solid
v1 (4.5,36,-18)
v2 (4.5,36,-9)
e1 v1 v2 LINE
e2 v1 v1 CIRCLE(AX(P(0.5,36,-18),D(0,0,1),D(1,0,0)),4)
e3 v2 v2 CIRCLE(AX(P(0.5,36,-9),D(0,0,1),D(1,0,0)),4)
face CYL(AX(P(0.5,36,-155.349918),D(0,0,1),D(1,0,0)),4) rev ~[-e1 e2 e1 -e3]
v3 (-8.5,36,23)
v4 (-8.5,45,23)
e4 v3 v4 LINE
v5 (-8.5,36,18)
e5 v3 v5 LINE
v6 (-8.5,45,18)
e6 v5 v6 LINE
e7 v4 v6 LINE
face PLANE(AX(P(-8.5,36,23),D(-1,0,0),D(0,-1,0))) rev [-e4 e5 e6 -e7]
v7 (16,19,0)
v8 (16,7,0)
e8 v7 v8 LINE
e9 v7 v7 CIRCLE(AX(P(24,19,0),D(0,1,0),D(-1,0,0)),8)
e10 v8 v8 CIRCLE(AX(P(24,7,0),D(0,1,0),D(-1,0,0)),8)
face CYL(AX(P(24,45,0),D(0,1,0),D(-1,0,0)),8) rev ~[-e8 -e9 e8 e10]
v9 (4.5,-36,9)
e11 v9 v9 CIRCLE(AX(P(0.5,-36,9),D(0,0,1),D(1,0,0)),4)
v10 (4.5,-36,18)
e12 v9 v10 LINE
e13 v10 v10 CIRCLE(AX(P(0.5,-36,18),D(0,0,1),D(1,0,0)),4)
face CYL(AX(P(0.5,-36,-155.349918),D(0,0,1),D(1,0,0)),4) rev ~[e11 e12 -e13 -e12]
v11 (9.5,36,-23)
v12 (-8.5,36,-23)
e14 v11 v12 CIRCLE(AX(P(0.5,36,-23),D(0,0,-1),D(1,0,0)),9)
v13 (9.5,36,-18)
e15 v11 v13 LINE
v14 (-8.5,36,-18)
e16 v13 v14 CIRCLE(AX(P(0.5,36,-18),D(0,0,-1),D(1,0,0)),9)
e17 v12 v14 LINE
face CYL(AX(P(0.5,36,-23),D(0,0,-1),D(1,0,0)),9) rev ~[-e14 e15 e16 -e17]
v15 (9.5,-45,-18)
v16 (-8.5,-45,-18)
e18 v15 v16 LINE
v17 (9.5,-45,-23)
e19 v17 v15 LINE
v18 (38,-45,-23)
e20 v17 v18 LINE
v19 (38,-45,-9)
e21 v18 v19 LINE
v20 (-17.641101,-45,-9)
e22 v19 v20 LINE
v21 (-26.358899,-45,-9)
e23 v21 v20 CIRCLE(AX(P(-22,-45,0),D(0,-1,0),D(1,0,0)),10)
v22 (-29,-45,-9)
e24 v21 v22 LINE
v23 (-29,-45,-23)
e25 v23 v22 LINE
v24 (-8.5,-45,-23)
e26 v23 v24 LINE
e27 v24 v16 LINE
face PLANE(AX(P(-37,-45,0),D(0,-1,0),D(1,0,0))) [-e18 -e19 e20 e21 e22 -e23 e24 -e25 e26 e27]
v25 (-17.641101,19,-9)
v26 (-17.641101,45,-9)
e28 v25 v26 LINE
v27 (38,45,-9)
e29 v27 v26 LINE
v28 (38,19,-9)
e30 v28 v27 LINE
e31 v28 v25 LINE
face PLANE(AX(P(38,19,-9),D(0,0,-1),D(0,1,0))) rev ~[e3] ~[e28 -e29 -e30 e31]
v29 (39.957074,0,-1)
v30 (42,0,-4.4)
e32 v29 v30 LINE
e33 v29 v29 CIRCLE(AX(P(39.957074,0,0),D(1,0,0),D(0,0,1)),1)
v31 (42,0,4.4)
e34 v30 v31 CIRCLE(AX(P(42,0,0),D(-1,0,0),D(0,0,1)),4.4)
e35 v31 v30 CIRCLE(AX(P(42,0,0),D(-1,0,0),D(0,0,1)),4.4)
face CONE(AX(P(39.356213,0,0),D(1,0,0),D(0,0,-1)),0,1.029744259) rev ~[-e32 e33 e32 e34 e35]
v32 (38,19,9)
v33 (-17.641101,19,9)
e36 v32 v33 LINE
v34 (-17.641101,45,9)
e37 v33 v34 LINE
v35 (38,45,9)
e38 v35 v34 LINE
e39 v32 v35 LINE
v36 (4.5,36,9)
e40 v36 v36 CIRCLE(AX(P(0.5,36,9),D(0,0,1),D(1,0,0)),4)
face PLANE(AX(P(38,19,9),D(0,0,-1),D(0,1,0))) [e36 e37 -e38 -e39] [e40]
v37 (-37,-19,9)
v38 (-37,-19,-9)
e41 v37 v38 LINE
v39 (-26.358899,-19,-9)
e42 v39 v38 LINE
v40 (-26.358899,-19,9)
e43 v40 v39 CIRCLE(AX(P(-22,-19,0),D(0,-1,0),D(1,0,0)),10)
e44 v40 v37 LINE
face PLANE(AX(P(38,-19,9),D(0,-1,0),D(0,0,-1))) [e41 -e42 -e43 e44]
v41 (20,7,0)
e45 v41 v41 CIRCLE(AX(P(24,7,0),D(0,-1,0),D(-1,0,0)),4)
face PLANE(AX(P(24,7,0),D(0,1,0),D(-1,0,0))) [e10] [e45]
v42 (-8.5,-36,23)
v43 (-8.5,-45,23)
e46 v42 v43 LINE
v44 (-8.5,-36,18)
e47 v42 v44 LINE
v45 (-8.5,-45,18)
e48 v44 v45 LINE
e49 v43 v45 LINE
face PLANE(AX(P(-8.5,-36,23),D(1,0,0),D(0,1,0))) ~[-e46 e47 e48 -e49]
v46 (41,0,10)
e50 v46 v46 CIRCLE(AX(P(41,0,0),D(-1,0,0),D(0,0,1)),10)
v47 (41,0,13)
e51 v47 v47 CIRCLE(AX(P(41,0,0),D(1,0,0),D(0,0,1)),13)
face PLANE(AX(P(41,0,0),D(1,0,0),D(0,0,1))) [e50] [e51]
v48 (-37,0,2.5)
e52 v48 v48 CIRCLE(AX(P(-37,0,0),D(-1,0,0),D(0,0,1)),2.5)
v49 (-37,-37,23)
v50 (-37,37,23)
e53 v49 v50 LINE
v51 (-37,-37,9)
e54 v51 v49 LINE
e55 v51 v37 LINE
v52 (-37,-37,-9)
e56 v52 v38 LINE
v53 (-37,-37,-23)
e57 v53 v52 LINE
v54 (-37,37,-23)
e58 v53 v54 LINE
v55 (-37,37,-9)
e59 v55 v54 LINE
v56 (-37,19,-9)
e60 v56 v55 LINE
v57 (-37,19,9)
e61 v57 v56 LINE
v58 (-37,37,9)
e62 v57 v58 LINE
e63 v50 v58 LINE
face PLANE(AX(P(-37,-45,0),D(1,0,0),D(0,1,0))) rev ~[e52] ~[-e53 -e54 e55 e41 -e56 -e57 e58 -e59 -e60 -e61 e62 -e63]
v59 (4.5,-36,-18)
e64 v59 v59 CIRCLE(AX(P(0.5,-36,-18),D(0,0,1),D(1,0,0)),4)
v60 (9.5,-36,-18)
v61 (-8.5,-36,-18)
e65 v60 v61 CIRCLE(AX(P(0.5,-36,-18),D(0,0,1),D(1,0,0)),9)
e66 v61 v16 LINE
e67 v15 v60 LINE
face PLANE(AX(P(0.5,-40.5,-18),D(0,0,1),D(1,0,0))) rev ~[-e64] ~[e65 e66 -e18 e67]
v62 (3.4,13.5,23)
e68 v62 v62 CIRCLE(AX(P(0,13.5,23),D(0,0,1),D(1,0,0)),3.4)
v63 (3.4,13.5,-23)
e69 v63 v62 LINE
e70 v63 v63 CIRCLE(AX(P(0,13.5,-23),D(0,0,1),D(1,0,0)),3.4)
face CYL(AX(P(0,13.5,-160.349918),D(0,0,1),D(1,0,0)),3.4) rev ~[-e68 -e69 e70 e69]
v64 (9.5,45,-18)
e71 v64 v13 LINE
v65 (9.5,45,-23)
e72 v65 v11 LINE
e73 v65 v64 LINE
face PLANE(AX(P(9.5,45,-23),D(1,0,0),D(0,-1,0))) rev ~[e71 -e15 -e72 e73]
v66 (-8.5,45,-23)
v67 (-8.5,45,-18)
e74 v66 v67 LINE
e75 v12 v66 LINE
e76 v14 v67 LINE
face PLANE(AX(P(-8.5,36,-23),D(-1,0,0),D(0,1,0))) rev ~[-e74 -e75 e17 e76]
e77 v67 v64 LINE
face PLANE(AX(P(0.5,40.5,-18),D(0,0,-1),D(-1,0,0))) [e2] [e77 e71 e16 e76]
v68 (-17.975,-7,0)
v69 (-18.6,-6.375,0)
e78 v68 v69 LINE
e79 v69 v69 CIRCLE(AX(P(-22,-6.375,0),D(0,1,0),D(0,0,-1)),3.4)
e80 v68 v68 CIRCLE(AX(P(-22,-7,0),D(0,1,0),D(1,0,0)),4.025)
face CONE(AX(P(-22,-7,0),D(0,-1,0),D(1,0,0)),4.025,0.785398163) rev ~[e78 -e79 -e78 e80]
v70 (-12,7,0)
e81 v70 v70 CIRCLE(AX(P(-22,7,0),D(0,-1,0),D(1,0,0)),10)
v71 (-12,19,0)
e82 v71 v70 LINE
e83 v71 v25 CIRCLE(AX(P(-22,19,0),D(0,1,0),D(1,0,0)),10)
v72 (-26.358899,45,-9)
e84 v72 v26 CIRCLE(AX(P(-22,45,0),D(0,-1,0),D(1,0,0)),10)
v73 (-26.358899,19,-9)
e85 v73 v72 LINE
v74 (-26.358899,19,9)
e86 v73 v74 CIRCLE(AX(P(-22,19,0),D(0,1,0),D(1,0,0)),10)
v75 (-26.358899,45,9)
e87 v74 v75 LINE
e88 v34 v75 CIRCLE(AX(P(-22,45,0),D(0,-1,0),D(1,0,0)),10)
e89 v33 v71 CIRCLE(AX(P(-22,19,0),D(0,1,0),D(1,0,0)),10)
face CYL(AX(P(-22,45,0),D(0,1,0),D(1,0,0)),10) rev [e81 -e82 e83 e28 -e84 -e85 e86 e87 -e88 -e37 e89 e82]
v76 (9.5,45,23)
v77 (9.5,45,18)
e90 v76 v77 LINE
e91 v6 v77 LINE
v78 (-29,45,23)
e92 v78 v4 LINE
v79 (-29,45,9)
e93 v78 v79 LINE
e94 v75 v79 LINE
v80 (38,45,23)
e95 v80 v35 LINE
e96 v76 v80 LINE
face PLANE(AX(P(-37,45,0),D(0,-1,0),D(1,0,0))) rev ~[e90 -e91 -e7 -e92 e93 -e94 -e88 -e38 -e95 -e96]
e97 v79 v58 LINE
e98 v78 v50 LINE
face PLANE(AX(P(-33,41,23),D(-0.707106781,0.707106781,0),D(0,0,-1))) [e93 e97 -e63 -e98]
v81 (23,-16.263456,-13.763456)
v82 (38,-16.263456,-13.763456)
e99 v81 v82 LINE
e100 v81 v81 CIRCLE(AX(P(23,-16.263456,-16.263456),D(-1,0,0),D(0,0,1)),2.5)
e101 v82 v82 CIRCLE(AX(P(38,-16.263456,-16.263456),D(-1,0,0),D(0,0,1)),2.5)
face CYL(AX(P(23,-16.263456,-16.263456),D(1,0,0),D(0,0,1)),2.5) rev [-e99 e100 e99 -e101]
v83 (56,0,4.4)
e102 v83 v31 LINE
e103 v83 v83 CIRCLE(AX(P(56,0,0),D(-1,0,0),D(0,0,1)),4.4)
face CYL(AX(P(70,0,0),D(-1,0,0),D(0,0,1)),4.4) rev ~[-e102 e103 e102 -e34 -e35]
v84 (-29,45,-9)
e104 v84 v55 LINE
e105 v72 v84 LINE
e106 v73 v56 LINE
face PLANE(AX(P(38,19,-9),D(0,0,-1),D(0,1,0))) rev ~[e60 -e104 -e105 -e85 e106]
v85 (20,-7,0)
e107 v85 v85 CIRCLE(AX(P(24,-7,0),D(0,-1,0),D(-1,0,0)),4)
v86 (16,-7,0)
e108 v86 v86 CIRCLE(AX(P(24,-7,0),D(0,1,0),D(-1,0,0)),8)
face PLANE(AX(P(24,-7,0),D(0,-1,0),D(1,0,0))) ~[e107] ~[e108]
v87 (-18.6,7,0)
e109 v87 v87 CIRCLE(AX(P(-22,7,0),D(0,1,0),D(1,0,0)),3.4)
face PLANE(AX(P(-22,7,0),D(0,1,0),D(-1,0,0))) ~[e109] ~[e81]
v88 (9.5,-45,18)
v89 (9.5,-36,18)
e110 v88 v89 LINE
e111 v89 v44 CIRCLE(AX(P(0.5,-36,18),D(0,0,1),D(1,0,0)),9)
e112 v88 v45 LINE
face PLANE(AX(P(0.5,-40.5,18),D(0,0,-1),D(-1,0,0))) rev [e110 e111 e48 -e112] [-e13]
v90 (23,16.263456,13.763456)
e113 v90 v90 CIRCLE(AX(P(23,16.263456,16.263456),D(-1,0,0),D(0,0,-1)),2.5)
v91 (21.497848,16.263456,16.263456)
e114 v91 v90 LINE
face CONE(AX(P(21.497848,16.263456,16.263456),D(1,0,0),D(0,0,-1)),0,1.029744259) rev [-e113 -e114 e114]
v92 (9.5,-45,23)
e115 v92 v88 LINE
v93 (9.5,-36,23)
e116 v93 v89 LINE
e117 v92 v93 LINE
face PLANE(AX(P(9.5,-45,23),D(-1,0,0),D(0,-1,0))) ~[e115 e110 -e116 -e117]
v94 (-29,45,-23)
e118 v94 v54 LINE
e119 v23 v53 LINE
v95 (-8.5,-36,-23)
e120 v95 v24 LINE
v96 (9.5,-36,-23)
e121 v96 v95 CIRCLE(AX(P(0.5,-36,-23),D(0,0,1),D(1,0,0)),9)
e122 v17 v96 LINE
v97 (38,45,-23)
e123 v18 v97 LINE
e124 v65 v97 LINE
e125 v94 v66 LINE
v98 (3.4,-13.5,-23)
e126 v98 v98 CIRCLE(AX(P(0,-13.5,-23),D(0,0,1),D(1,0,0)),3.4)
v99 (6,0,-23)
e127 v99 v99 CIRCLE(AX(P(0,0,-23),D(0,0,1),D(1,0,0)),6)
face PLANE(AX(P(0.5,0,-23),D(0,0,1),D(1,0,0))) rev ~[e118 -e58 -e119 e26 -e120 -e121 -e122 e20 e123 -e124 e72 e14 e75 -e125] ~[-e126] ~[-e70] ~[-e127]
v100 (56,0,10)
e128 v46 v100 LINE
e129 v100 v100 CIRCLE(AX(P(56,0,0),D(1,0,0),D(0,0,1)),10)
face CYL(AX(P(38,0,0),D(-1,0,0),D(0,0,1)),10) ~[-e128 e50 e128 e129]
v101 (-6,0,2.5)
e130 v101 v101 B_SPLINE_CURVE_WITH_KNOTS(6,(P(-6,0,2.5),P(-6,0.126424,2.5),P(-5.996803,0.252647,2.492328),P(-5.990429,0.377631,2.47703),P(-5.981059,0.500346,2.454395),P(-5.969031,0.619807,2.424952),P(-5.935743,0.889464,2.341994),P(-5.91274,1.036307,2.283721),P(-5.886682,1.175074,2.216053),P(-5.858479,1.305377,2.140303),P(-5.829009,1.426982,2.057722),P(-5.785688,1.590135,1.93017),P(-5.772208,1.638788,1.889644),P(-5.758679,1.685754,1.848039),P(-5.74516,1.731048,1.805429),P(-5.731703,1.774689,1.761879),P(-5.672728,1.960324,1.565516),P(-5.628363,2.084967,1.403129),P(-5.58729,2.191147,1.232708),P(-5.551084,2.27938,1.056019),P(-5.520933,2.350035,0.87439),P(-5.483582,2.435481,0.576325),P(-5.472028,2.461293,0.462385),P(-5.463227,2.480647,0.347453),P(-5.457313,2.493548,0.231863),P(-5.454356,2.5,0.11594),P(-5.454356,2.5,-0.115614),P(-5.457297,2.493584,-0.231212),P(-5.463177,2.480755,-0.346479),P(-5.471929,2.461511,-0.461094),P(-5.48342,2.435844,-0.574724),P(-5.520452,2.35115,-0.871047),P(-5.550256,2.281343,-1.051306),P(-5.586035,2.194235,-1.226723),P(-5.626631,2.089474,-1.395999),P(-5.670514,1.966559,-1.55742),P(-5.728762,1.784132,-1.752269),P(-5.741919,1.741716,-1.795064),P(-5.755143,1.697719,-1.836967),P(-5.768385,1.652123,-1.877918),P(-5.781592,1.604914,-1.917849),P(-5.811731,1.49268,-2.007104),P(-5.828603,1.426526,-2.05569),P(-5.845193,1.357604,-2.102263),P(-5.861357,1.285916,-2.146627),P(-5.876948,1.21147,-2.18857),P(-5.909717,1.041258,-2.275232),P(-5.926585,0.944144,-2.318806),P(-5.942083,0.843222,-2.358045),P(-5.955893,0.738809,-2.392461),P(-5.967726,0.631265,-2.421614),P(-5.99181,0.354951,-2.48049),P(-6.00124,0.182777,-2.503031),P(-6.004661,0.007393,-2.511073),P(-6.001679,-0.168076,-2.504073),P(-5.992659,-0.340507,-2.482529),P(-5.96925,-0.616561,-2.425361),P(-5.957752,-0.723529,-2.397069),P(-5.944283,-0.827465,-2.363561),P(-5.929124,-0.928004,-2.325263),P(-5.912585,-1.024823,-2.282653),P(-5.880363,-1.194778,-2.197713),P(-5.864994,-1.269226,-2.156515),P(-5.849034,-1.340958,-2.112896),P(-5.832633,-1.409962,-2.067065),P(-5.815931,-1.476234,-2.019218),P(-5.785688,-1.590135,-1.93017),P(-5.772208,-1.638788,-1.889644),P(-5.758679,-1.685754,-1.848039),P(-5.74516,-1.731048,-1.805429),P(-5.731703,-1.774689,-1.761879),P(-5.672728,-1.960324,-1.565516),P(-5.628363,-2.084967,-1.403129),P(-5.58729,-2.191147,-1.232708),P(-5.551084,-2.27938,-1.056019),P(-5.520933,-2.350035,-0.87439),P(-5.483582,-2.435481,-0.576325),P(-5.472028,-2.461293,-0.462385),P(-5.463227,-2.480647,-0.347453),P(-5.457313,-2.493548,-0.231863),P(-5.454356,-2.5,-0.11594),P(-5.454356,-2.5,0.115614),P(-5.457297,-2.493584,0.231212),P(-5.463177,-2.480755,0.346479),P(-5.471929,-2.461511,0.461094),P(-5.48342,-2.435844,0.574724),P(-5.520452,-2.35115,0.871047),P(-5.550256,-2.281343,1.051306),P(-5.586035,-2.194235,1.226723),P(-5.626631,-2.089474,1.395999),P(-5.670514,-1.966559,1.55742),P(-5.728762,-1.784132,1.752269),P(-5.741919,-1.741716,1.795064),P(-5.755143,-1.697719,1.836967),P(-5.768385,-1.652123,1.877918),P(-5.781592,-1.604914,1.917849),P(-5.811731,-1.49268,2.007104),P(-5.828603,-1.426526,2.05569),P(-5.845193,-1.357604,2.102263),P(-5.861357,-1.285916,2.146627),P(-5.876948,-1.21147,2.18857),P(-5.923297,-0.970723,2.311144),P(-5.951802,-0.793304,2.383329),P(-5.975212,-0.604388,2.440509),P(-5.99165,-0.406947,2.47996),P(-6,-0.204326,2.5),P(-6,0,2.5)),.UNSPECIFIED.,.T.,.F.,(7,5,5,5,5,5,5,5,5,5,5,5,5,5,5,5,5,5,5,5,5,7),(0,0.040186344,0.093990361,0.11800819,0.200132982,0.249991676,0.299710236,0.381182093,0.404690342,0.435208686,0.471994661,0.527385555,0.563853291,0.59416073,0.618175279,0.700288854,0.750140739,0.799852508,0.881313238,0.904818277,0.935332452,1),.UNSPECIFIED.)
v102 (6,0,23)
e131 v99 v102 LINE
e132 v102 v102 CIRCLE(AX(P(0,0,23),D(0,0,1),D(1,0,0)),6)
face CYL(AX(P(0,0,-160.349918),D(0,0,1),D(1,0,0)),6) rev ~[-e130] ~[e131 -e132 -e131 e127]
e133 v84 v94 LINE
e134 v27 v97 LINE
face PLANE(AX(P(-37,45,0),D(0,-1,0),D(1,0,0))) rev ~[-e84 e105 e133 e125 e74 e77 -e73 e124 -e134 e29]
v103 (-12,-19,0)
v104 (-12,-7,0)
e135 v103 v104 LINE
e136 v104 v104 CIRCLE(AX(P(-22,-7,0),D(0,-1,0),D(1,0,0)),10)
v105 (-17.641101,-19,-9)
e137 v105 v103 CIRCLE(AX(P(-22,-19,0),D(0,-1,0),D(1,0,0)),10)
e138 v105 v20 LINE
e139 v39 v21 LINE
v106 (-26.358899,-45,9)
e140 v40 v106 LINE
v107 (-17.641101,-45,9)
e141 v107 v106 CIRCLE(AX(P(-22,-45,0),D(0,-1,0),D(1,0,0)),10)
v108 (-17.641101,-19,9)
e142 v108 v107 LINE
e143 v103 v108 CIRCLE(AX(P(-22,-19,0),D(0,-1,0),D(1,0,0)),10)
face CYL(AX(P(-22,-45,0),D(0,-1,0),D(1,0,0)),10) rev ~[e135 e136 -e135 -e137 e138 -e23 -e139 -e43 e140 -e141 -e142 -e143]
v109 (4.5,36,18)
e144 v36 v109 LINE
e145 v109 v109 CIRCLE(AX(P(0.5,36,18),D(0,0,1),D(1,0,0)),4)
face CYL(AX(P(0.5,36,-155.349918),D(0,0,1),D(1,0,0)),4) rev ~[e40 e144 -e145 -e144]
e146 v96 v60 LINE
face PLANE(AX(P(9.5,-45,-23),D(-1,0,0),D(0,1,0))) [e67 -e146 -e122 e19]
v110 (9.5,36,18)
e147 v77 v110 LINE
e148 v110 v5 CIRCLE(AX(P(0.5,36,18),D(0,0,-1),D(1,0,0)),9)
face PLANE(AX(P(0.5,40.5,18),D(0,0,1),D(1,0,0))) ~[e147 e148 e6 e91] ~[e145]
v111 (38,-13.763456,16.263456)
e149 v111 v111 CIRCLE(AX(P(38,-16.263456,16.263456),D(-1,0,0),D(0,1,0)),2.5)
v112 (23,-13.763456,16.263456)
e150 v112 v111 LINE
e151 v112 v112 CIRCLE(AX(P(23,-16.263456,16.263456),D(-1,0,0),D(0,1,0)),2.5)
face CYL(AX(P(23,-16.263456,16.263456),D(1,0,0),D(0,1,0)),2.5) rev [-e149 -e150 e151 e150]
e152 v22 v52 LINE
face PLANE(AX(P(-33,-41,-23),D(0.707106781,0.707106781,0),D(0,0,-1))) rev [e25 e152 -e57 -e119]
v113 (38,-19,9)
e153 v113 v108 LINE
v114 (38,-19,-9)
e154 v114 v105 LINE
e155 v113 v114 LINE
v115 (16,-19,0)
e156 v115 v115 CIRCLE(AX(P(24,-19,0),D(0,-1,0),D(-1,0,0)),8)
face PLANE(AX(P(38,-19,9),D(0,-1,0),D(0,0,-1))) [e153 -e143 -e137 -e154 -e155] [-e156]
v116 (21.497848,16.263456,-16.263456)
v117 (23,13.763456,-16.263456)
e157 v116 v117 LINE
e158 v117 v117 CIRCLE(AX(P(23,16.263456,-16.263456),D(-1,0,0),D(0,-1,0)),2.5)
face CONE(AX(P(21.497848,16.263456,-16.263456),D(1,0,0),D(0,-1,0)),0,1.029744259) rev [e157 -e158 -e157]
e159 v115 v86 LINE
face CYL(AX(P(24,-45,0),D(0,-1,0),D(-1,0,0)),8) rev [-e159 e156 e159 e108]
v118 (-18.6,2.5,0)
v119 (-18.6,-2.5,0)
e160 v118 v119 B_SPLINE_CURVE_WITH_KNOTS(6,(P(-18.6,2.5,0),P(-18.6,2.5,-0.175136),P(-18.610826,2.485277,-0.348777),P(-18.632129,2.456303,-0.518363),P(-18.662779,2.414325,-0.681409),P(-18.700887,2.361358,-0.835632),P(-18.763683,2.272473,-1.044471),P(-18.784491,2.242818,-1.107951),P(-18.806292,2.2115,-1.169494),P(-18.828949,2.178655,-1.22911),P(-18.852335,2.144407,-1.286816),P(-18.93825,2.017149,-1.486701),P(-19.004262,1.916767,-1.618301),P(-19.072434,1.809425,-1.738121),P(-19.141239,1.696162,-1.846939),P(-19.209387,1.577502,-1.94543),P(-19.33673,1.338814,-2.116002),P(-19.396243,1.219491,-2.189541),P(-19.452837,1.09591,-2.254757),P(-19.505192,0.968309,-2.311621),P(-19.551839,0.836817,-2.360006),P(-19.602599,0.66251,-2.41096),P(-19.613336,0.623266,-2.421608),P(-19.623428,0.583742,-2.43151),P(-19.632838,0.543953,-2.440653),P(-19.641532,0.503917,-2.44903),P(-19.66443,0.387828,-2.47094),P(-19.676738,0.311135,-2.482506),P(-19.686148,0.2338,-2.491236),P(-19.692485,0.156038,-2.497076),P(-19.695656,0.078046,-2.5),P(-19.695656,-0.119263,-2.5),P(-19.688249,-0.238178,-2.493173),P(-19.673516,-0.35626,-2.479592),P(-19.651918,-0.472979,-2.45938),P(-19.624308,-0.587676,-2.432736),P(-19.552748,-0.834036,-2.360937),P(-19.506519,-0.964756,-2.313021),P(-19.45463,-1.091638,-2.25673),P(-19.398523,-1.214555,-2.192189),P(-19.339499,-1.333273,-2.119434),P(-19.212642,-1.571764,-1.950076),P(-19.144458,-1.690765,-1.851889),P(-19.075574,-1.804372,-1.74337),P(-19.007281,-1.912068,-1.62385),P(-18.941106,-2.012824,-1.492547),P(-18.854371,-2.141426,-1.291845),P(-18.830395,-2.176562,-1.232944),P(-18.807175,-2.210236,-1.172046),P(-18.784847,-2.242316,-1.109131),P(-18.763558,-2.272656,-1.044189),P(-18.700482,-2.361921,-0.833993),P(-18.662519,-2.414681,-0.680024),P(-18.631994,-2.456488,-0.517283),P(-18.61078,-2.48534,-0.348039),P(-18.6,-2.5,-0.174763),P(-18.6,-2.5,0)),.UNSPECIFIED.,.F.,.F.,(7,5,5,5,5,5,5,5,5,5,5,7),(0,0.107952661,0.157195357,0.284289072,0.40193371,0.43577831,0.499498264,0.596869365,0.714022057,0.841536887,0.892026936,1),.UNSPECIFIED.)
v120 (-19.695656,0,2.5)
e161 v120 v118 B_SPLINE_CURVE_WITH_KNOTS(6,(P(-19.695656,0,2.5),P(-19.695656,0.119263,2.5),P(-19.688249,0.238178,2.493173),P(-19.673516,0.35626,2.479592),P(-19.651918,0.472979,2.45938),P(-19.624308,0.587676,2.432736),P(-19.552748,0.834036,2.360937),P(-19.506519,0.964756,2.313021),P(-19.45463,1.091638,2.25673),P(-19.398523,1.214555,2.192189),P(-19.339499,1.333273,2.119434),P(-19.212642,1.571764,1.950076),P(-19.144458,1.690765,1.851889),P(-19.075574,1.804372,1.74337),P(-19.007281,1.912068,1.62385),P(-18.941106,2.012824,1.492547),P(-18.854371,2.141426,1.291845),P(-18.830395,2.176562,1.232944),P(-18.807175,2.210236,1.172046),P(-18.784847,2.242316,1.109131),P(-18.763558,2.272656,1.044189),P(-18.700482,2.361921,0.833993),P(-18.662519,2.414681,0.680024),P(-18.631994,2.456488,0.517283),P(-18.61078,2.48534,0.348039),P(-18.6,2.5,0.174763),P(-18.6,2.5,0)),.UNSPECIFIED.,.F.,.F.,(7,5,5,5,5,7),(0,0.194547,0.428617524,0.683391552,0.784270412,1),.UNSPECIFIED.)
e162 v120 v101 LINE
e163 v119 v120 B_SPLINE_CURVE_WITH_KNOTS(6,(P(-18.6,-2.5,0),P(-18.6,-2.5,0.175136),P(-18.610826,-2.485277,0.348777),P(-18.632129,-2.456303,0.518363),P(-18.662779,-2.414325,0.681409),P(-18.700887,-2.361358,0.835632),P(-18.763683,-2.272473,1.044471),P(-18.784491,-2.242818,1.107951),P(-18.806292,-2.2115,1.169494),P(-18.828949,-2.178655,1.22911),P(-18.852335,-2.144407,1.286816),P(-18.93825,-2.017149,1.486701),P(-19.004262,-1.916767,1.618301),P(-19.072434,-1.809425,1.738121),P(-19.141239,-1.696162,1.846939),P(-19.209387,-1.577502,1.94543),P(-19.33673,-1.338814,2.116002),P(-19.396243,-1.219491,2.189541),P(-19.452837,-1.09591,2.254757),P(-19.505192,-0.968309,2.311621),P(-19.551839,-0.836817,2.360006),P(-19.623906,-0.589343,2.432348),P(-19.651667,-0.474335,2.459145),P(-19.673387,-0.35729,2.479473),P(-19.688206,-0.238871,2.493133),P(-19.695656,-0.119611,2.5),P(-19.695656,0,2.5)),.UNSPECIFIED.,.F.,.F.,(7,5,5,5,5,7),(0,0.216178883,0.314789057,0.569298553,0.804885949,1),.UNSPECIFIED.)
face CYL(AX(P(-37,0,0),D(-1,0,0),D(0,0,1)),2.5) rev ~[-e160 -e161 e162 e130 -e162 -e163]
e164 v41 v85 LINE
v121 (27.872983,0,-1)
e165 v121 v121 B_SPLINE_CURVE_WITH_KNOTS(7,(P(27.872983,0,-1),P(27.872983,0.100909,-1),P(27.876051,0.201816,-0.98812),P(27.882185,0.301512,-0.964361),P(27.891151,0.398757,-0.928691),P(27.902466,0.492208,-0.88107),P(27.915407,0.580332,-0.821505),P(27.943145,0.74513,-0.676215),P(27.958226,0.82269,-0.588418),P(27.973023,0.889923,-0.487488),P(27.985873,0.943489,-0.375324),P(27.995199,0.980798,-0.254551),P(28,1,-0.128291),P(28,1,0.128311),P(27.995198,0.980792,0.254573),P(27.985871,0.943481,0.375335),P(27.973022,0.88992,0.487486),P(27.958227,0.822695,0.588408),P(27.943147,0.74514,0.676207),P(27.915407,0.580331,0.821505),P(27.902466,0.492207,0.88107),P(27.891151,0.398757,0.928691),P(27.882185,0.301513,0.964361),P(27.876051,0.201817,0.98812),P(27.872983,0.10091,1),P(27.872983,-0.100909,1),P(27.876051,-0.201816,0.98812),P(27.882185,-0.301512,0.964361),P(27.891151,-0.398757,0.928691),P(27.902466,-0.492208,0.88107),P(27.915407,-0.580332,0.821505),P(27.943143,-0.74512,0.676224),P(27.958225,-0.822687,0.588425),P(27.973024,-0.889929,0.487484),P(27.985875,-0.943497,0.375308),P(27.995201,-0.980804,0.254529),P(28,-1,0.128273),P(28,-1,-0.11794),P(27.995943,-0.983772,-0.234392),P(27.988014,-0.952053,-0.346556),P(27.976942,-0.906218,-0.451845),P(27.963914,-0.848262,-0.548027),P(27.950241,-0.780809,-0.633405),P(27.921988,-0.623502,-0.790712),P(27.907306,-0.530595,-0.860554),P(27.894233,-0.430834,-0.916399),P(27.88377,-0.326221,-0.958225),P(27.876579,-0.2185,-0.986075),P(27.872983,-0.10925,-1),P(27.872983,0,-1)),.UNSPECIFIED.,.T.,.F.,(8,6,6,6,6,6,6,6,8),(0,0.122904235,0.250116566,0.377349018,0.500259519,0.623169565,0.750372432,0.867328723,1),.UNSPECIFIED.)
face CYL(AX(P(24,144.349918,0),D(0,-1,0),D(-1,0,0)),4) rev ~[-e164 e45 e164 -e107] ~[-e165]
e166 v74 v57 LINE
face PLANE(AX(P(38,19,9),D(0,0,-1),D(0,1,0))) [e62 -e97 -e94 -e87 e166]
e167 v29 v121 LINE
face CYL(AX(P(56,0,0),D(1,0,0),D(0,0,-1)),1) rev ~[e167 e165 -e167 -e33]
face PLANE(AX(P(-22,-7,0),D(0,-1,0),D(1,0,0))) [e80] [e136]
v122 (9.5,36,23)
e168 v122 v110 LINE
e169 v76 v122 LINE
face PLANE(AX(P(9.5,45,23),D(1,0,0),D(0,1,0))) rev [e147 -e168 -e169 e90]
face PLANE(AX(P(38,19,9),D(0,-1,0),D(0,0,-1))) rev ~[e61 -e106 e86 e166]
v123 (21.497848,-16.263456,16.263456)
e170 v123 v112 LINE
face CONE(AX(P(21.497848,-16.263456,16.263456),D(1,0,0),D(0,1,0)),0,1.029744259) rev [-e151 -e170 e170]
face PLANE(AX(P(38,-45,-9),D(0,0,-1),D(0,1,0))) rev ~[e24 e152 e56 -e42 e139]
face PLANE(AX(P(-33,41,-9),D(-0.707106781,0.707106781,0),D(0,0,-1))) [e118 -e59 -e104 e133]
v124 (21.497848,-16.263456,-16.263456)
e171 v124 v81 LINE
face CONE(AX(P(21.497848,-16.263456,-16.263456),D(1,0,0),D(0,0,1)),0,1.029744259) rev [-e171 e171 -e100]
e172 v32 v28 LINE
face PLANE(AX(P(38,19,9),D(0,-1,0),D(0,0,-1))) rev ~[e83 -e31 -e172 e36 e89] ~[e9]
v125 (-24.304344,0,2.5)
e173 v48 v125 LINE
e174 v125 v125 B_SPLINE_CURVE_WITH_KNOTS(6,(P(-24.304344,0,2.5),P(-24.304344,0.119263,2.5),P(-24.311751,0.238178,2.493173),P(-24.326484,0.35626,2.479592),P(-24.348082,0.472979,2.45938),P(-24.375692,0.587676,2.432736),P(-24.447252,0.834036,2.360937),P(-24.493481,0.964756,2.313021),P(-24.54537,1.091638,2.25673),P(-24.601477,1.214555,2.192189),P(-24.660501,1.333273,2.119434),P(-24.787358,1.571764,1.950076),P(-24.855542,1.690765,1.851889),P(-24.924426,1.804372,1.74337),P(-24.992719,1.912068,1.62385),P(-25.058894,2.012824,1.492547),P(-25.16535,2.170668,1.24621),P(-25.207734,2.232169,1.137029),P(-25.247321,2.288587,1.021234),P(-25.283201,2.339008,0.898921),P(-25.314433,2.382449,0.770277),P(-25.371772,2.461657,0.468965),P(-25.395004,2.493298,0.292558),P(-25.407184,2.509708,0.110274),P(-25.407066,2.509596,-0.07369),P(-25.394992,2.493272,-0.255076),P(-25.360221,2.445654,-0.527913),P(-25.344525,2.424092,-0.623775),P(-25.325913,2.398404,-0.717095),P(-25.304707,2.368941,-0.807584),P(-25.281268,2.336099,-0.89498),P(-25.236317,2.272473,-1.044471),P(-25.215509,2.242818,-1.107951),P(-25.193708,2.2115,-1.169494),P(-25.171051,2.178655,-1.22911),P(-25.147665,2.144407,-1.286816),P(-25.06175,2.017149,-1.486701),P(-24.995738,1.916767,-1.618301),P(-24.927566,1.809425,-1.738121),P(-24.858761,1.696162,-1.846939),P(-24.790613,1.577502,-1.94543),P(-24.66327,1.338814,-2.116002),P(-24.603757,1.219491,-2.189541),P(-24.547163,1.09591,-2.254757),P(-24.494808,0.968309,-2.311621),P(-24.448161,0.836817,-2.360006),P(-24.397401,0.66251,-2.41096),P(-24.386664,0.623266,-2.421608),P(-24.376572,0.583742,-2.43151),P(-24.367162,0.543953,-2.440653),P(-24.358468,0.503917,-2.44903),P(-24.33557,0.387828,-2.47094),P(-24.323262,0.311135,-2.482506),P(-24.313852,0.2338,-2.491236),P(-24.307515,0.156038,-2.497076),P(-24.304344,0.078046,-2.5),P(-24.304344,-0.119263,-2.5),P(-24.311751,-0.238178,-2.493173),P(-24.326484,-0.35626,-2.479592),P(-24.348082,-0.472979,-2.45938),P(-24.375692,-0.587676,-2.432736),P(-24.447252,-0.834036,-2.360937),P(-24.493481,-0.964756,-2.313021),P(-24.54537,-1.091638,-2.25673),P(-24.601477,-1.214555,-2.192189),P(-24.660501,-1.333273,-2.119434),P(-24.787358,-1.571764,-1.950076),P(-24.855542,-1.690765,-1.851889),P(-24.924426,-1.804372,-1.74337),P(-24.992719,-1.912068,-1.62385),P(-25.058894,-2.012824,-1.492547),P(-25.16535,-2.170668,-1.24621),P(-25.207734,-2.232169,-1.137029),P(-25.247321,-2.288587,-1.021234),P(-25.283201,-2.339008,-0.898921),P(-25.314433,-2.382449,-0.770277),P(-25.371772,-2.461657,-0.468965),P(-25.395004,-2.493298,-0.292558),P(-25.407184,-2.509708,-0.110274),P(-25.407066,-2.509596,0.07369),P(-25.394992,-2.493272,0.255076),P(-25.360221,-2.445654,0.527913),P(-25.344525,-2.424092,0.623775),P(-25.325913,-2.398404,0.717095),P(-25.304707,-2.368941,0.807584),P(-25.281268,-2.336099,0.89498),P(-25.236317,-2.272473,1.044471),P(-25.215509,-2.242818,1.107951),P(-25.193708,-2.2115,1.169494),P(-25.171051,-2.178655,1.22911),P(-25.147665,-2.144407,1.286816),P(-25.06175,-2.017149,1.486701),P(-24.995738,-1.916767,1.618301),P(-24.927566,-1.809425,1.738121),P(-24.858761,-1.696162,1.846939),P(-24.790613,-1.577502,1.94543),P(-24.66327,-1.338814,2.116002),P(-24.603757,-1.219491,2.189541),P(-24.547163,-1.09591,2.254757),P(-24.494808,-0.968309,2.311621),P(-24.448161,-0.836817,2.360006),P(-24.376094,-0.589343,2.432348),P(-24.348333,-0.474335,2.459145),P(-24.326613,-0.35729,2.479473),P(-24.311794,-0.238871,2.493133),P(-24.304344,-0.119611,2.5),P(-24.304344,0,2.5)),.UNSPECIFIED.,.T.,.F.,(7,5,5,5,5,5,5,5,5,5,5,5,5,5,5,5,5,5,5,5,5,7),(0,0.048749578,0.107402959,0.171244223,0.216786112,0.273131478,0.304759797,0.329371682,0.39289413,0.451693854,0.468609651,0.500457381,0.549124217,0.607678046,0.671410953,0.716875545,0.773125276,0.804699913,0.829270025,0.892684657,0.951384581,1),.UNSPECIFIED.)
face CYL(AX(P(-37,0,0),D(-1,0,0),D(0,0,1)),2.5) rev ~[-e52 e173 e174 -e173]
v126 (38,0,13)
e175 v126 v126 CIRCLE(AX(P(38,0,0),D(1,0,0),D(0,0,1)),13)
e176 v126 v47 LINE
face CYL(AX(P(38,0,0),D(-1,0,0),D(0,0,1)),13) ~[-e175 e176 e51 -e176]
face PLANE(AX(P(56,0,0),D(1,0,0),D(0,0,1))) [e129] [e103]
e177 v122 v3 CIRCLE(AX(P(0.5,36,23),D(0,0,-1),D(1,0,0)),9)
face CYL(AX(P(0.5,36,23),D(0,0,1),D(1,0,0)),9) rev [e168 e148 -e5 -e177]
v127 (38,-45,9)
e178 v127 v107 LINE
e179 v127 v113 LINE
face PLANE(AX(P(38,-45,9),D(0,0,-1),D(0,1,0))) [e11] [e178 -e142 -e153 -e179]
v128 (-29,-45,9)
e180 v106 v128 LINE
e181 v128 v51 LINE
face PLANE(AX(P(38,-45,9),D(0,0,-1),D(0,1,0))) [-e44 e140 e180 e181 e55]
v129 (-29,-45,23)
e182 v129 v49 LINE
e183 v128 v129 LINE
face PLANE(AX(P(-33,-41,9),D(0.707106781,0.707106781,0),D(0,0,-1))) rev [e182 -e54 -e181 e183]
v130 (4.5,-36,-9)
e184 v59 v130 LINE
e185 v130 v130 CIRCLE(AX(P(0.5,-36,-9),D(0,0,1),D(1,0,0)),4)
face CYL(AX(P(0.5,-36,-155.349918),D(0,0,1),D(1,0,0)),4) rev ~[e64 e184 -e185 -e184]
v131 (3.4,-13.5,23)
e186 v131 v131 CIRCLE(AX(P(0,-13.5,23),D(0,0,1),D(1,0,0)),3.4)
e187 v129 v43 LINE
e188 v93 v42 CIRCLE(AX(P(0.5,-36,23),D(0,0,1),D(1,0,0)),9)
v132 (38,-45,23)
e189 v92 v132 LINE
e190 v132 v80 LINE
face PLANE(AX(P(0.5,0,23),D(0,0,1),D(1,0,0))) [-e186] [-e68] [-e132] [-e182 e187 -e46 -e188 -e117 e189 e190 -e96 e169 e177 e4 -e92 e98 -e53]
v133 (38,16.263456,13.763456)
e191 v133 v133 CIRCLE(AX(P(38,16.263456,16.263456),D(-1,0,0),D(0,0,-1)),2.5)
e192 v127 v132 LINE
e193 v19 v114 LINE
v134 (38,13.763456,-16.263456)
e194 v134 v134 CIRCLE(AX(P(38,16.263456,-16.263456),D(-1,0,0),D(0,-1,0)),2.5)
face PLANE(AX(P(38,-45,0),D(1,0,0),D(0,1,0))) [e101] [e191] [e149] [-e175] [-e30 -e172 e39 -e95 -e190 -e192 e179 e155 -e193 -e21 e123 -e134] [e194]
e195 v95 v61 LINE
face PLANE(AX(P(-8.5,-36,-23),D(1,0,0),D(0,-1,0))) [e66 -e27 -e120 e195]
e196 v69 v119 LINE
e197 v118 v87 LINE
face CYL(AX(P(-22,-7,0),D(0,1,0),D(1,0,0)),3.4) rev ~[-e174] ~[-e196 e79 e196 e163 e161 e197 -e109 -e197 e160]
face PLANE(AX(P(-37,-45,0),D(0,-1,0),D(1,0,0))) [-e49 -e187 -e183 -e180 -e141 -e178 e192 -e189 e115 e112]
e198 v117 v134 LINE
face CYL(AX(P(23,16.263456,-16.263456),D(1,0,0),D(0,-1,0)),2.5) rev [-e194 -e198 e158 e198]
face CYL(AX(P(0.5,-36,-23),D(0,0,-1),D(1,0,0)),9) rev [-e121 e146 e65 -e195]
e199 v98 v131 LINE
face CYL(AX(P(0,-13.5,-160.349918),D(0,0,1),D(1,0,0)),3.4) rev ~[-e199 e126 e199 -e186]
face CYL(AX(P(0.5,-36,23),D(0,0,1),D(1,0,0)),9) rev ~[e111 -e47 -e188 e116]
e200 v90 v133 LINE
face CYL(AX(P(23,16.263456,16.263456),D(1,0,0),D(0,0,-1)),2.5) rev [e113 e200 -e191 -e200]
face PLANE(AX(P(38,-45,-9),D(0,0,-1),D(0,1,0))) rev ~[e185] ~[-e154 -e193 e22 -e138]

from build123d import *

# Parameters (mm, degrees)
SKETCH2_W                     = 75
SKETCH2_H                     = 90
BOSS_EXTRUDE1_DEPTH           = 23
SKETCH3_W                     = 18
SKETCH3_H                     = 26
CUT_EXTRUDE1_DEPTH            = 91.437823946
SKETCH4_R                     = 10
BOSS_EXTRUDE2_DEPTH           = 18
SKETCH5_R                     = 13
BOSS_EXTRUDE3_DEPTH           = 3
F_12_0_12_DIAMETER_HOLE1_D    = 12
CUT_EXTRUDE2_DEPTH            = 5
F_8_0_8_DIAMETER_HOLE1_D      = 8
M8_TAPPED_HOLE1_D             = 6.8
SKETCH17_R                    = 8
CUT_EXTRUDE3_DEPTH            = 38
F_8_0_8_DIAMETER_HOLE2_D      = 8
CHAMFER1_SIZE                 = 8
G1_8_TAPPED_HOLE1_D           = 8.8
G1_8_TAPPED_HOLE1_DEPTH       = 14
G1_8_TAPPED_HOLE1_TIP         = 2.643786724
F_2_0_2_DIAMETER_HOLE1_REACH  = 107.844
F_2_0_2_DIAMETER_HOLE1_BORE_R = 1
M6_TAPPED_HOLE1_REACH         = 107.844
M6_TAPPED_HOLE1_BORE_R        = 2.5
CIRPATTERN1_COUNT             = 4
SKETCH36_R                    = 10
CUT_EXTRUDE5_DEPTH            = 38
M8_TAPPED_HOLE2_D             = 6.8
M8_TAPPED_HOLE2_CSINK_D       = 8.05
M8_TAPPED_HOLE2_CSINK_ANGLE   = 90


with BuildPart() as part:
    # Sketch2 → Boss-Extrude1 (new, symmetric)
    with BuildSketch(Plane.XY):
        with Locations((0.5, 0)):
            Rectangle(SKETCH2_W, SKETCH2_H)
    extrude(amount=BOSS_EXTRUDE1_DEPTH, both=True)

    # Sketch3 → Cut-Extrude1 (cut, through all)
    with BuildSketch(Plane(origin=(38, 0, 0), x_dir=(0, 0, -1), z_dir=(1, 0, 0))):
        with Locations((0, -32)):
            Rectangle(SKETCH3_W, SKETCH3_H)
        with Locations((0, 32)):
            Rectangle(SKETCH3_W, SKETCH3_H)
    extrude(amount=-CUT_EXTRUDE1_DEPTH, mode=Mode.SUBTRACT)

    # Sketch4 → Boss-Extrude2 (add)
    with BuildSketch(Plane(origin=(38, 0, 0), x_dir=(0, 0, -1), z_dir=(1, 0, 0))):
        with Locations(Location((0, 0, 0), (0, 0, 180))):
            Circle(SKETCH4_R)
    extrude(amount=BOSS_EXTRUDE2_DEPTH)

    # Sketch5 → Boss-Extrude3 (add)
    with BuildSketch(Plane(origin=(38, 0, 0), x_dir=(0, 0, -1), z_dir=(1, 0, 0))):
        with Locations(Location((0, 0, 0), (0, 0, 180))):
            Circle(SKETCH5_R)
    extrude(amount=BOSS_EXTRUDE3_DEPTH)

    # Ø12.0 (12) Diameter Hole1 (through all)
    with Locations(Plane(origin=(0, 0, -23), x_dir=(-1, 0, 0), z_dir=(0, 0, -1))):
        with Locations((0, 0)):
            Hole(F_12_0_12_DIAMETER_HOLE1_D / 2)

    # Sketch9 → Cut-Extrude2 (cut)
    with BuildSketch(Plane(origin=(0, 0, -23), x_dir=(-1, 0, 0), z_dir=(0, 0, -1))):
        with BuildLine():
            Line((-9.5, -45), (-9.5, -36))
            ThreePointArc((-9.5, -36), (-0.5, -27), (8.5, -36))
            Line((8.5, -36), (8.5, -45))
            ThreePointArc((8.5, -45), (-0.5, -54), (-9.5, -45))
        make_face()
        with BuildLine():
            Line((-9.5, 45), (-9.5, 36))
            ThreePointArc((-9.5, 36), (-0.5, 27), (8.5, 36))
            Line((8.5, 36), (8.5, 45))
            ThreePointArc((8.5, 45), (-0.5, 54), (-9.5, 45))
        make_face()
    cut_extrude2 = extrude(amount=-CUT_EXTRUDE2_DEPTH, mode=Mode.SUBTRACT)

    # Mirror1: Cut-Extrude2 across plane
    add(cut_extrude2.mirror(Plane.XY), mode=Mode.SUBTRACT)

    # Ø8.0 (8) Diameter Hole1 (through all)
    with Locations(Plane(origin=(0, 0, -18), x_dir=(-1, 0, 0), z_dir=(0, 0, -1))):
        with Locations((-0.5, -36), (-0.5, 36)):
            Hole(F_8_0_8_DIAMETER_HOLE1_D / 2)

    # M8 Tapped Hole1 (through all)
    with Locations(Plane(origin=(0, 0, -23), x_dir=(-1, 0, 0), z_dir=(0, 0, -1))):
        with Locations((0, 13.5), (0, -13.5)):
            Hole(M8_TAPPED_HOLE1_D / 2)

    # Sketch17 → Cut-Extrude3 (cut)
    with BuildSketch(Plane(origin=(0, 45, 0), x_dir=(1, 0, 0), z_dir=(0, 1, 0))):
        with Locations(Location((24, 0, 0), (0, 0, 180))):
            Circle(SKETCH17_R)
    cut_extrude3 = extrude(amount=-CUT_EXTRUDE3_DEPTH, mode=Mode.SUBTRACT)

    # Mirror2: Cut-Extrude3 across plane
    add(cut_extrude3.mirror(Plane.ZX), mode=Mode.SUBTRACT)

    # Ø8.0 (8) Diameter Hole2 (through all)
    with Locations(Plane(origin=(0, 7, 0), x_dir=(1, 0, 0), z_dir=(0, 1, 0))):
        with Locations((24, 0)):
            Hole(F_8_0_8_DIAMETER_HOLE2_D / 2)

    # Chamfer1
    chamfer1_edges = [part.edges().sort_by_distance(p)[0] for p in [
        (-37, 45, -16),
        (-37, -45, -16),
        (-37, 45, 16),
        (-37, -45, 16),
    ]]
    chamfer(chamfer1_edges, length=CHAMFER1_SIZE)

    # G1/8 Tapped Hole1
    with Locations(Plane(origin=(56, 0, 0), x_dir=(0, 0, -1), z_dir=(1, 0, 0))):
        with Locations((0, 0)):
            Hole(G1_8_TAPPED_HOLE1_D / 2, depth=G1_8_TAPPED_HOLE1_DEPTH)
            with Locations((0, 0, -(G1_8_TAPPED_HOLE1_DEPTH + G1_8_TAPPED_HOLE1_TIP / 2))):  # 118° drill point
                Cone(0, G1_8_TAPPED_HOLE1_D / 2, G1_8_TAPPED_HOLE1_TIP, mode=Mode.SUBTRACT)

    # Ø2.0 (2) Diameter Hole1 bore → Ø2.0 (2) Diameter Hole1 (cut, up to next)
    with BuildSketch(Plane(origin=(56, 0, 0), x_dir=(0, 0, -1), z_dir=(1, 0, 0)), mode=Mode.PRIVATE) as f_2_0_2_diameter_hole1_sk1:
        Circle(F_2_0_2_DIAMETER_HOLE1_BORE_R)
    f_2_0_2_diameter_hole1_tool1 = extrude(f_2_0_2_diameter_hole1_sk1.sketch, amount=-F_2_0_2_DIAMETER_HOLE1_REACH, mode=Mode.PRIVATE) & part.part
    add(f_2_0_2_diameter_hole1_tool1.solids().sort_by_distance((56, 0, 0))[0], mode=Mode.SUBTRACT)

    # M6 Tapped Hole1 bore → M6 Tapped Hole1 (cut, up to next)
    with BuildSketch(Plane.ZY.offset(37), mode=Mode.PRIVATE) as m6_tapped_hole1_sk1:
        Circle(M6_TAPPED_HOLE1_BORE_R)
    m6_tapped_hole1_tool1 = extrude(m6_tapped_hole1_sk1.sketch, amount=-M6_TAPPED_HOLE1_REACH, mode=Mode.PRIVATE) & part.part
    add(m6_tapped_hole1_tool1.solids().sort_by_distance((-37, 0, 0))[0], mode=Mode.SUBTRACT)

    # Sketch34 → M6 Tapped Hole2 (revolve, cut)
    with BuildSketch(Plane(origin=(38, 16.263455967, 16.263455967), x_dir=(0, 0, -1), z_dir=(0, 1, 0))):
        Polygon((0, 0), (0, 16.502151548), (2.5, 15), (2.5, 0), align=None)
    m6_tapped_hole2 = revolve(axis=Axis((44.35, 16.263455967, 16.263455967), (-1, 0, 0)), mode=Mode.SUBTRACT)

    # CirPattern1: M6 Tapped Hole2 ×4 about axis
    cirpattern1_axis = Axis((0, 0, 0), (1, 0, 0))
    for i in range(1, CIRPATTERN1_COUNT):
        add(m6_tapped_hole2.rotate(cirpattern1_axis, i * 360 / CIRPATTERN1_COUNT), mode=Mode.SUBTRACT)

    # Sketch36 → Cut-Extrude5 (cut)
    with BuildSketch(Plane.XZ.offset(45)):
        with Locations((-22, 0)):
            Circle(SKETCH36_R)
    cut_extrude5 = extrude(amount=-CUT_EXTRUDE5_DEPTH, mode=Mode.SUBTRACT)

    # Mirror4: Cut-Extrude5 across plane
    add(cut_extrude5.mirror(Plane.ZX), mode=Mode.SUBTRACT)

    # M8 Tapped Hole2 (through all)
    with Locations(Plane(origin=(0, -7, 0), x_dir=(-1, 0, 0), z_dir=(0, -1, 0))):
        with Locations((22, 0)):
            CounterSinkHole(M8_TAPPED_HOLE2_D / 2, M8_TAPPED_HOLE2_CSINK_D / 2, counter_sink_angle=M8_TAPPED_HOLE2_CSINK_ANGLE)


solid = part.part
